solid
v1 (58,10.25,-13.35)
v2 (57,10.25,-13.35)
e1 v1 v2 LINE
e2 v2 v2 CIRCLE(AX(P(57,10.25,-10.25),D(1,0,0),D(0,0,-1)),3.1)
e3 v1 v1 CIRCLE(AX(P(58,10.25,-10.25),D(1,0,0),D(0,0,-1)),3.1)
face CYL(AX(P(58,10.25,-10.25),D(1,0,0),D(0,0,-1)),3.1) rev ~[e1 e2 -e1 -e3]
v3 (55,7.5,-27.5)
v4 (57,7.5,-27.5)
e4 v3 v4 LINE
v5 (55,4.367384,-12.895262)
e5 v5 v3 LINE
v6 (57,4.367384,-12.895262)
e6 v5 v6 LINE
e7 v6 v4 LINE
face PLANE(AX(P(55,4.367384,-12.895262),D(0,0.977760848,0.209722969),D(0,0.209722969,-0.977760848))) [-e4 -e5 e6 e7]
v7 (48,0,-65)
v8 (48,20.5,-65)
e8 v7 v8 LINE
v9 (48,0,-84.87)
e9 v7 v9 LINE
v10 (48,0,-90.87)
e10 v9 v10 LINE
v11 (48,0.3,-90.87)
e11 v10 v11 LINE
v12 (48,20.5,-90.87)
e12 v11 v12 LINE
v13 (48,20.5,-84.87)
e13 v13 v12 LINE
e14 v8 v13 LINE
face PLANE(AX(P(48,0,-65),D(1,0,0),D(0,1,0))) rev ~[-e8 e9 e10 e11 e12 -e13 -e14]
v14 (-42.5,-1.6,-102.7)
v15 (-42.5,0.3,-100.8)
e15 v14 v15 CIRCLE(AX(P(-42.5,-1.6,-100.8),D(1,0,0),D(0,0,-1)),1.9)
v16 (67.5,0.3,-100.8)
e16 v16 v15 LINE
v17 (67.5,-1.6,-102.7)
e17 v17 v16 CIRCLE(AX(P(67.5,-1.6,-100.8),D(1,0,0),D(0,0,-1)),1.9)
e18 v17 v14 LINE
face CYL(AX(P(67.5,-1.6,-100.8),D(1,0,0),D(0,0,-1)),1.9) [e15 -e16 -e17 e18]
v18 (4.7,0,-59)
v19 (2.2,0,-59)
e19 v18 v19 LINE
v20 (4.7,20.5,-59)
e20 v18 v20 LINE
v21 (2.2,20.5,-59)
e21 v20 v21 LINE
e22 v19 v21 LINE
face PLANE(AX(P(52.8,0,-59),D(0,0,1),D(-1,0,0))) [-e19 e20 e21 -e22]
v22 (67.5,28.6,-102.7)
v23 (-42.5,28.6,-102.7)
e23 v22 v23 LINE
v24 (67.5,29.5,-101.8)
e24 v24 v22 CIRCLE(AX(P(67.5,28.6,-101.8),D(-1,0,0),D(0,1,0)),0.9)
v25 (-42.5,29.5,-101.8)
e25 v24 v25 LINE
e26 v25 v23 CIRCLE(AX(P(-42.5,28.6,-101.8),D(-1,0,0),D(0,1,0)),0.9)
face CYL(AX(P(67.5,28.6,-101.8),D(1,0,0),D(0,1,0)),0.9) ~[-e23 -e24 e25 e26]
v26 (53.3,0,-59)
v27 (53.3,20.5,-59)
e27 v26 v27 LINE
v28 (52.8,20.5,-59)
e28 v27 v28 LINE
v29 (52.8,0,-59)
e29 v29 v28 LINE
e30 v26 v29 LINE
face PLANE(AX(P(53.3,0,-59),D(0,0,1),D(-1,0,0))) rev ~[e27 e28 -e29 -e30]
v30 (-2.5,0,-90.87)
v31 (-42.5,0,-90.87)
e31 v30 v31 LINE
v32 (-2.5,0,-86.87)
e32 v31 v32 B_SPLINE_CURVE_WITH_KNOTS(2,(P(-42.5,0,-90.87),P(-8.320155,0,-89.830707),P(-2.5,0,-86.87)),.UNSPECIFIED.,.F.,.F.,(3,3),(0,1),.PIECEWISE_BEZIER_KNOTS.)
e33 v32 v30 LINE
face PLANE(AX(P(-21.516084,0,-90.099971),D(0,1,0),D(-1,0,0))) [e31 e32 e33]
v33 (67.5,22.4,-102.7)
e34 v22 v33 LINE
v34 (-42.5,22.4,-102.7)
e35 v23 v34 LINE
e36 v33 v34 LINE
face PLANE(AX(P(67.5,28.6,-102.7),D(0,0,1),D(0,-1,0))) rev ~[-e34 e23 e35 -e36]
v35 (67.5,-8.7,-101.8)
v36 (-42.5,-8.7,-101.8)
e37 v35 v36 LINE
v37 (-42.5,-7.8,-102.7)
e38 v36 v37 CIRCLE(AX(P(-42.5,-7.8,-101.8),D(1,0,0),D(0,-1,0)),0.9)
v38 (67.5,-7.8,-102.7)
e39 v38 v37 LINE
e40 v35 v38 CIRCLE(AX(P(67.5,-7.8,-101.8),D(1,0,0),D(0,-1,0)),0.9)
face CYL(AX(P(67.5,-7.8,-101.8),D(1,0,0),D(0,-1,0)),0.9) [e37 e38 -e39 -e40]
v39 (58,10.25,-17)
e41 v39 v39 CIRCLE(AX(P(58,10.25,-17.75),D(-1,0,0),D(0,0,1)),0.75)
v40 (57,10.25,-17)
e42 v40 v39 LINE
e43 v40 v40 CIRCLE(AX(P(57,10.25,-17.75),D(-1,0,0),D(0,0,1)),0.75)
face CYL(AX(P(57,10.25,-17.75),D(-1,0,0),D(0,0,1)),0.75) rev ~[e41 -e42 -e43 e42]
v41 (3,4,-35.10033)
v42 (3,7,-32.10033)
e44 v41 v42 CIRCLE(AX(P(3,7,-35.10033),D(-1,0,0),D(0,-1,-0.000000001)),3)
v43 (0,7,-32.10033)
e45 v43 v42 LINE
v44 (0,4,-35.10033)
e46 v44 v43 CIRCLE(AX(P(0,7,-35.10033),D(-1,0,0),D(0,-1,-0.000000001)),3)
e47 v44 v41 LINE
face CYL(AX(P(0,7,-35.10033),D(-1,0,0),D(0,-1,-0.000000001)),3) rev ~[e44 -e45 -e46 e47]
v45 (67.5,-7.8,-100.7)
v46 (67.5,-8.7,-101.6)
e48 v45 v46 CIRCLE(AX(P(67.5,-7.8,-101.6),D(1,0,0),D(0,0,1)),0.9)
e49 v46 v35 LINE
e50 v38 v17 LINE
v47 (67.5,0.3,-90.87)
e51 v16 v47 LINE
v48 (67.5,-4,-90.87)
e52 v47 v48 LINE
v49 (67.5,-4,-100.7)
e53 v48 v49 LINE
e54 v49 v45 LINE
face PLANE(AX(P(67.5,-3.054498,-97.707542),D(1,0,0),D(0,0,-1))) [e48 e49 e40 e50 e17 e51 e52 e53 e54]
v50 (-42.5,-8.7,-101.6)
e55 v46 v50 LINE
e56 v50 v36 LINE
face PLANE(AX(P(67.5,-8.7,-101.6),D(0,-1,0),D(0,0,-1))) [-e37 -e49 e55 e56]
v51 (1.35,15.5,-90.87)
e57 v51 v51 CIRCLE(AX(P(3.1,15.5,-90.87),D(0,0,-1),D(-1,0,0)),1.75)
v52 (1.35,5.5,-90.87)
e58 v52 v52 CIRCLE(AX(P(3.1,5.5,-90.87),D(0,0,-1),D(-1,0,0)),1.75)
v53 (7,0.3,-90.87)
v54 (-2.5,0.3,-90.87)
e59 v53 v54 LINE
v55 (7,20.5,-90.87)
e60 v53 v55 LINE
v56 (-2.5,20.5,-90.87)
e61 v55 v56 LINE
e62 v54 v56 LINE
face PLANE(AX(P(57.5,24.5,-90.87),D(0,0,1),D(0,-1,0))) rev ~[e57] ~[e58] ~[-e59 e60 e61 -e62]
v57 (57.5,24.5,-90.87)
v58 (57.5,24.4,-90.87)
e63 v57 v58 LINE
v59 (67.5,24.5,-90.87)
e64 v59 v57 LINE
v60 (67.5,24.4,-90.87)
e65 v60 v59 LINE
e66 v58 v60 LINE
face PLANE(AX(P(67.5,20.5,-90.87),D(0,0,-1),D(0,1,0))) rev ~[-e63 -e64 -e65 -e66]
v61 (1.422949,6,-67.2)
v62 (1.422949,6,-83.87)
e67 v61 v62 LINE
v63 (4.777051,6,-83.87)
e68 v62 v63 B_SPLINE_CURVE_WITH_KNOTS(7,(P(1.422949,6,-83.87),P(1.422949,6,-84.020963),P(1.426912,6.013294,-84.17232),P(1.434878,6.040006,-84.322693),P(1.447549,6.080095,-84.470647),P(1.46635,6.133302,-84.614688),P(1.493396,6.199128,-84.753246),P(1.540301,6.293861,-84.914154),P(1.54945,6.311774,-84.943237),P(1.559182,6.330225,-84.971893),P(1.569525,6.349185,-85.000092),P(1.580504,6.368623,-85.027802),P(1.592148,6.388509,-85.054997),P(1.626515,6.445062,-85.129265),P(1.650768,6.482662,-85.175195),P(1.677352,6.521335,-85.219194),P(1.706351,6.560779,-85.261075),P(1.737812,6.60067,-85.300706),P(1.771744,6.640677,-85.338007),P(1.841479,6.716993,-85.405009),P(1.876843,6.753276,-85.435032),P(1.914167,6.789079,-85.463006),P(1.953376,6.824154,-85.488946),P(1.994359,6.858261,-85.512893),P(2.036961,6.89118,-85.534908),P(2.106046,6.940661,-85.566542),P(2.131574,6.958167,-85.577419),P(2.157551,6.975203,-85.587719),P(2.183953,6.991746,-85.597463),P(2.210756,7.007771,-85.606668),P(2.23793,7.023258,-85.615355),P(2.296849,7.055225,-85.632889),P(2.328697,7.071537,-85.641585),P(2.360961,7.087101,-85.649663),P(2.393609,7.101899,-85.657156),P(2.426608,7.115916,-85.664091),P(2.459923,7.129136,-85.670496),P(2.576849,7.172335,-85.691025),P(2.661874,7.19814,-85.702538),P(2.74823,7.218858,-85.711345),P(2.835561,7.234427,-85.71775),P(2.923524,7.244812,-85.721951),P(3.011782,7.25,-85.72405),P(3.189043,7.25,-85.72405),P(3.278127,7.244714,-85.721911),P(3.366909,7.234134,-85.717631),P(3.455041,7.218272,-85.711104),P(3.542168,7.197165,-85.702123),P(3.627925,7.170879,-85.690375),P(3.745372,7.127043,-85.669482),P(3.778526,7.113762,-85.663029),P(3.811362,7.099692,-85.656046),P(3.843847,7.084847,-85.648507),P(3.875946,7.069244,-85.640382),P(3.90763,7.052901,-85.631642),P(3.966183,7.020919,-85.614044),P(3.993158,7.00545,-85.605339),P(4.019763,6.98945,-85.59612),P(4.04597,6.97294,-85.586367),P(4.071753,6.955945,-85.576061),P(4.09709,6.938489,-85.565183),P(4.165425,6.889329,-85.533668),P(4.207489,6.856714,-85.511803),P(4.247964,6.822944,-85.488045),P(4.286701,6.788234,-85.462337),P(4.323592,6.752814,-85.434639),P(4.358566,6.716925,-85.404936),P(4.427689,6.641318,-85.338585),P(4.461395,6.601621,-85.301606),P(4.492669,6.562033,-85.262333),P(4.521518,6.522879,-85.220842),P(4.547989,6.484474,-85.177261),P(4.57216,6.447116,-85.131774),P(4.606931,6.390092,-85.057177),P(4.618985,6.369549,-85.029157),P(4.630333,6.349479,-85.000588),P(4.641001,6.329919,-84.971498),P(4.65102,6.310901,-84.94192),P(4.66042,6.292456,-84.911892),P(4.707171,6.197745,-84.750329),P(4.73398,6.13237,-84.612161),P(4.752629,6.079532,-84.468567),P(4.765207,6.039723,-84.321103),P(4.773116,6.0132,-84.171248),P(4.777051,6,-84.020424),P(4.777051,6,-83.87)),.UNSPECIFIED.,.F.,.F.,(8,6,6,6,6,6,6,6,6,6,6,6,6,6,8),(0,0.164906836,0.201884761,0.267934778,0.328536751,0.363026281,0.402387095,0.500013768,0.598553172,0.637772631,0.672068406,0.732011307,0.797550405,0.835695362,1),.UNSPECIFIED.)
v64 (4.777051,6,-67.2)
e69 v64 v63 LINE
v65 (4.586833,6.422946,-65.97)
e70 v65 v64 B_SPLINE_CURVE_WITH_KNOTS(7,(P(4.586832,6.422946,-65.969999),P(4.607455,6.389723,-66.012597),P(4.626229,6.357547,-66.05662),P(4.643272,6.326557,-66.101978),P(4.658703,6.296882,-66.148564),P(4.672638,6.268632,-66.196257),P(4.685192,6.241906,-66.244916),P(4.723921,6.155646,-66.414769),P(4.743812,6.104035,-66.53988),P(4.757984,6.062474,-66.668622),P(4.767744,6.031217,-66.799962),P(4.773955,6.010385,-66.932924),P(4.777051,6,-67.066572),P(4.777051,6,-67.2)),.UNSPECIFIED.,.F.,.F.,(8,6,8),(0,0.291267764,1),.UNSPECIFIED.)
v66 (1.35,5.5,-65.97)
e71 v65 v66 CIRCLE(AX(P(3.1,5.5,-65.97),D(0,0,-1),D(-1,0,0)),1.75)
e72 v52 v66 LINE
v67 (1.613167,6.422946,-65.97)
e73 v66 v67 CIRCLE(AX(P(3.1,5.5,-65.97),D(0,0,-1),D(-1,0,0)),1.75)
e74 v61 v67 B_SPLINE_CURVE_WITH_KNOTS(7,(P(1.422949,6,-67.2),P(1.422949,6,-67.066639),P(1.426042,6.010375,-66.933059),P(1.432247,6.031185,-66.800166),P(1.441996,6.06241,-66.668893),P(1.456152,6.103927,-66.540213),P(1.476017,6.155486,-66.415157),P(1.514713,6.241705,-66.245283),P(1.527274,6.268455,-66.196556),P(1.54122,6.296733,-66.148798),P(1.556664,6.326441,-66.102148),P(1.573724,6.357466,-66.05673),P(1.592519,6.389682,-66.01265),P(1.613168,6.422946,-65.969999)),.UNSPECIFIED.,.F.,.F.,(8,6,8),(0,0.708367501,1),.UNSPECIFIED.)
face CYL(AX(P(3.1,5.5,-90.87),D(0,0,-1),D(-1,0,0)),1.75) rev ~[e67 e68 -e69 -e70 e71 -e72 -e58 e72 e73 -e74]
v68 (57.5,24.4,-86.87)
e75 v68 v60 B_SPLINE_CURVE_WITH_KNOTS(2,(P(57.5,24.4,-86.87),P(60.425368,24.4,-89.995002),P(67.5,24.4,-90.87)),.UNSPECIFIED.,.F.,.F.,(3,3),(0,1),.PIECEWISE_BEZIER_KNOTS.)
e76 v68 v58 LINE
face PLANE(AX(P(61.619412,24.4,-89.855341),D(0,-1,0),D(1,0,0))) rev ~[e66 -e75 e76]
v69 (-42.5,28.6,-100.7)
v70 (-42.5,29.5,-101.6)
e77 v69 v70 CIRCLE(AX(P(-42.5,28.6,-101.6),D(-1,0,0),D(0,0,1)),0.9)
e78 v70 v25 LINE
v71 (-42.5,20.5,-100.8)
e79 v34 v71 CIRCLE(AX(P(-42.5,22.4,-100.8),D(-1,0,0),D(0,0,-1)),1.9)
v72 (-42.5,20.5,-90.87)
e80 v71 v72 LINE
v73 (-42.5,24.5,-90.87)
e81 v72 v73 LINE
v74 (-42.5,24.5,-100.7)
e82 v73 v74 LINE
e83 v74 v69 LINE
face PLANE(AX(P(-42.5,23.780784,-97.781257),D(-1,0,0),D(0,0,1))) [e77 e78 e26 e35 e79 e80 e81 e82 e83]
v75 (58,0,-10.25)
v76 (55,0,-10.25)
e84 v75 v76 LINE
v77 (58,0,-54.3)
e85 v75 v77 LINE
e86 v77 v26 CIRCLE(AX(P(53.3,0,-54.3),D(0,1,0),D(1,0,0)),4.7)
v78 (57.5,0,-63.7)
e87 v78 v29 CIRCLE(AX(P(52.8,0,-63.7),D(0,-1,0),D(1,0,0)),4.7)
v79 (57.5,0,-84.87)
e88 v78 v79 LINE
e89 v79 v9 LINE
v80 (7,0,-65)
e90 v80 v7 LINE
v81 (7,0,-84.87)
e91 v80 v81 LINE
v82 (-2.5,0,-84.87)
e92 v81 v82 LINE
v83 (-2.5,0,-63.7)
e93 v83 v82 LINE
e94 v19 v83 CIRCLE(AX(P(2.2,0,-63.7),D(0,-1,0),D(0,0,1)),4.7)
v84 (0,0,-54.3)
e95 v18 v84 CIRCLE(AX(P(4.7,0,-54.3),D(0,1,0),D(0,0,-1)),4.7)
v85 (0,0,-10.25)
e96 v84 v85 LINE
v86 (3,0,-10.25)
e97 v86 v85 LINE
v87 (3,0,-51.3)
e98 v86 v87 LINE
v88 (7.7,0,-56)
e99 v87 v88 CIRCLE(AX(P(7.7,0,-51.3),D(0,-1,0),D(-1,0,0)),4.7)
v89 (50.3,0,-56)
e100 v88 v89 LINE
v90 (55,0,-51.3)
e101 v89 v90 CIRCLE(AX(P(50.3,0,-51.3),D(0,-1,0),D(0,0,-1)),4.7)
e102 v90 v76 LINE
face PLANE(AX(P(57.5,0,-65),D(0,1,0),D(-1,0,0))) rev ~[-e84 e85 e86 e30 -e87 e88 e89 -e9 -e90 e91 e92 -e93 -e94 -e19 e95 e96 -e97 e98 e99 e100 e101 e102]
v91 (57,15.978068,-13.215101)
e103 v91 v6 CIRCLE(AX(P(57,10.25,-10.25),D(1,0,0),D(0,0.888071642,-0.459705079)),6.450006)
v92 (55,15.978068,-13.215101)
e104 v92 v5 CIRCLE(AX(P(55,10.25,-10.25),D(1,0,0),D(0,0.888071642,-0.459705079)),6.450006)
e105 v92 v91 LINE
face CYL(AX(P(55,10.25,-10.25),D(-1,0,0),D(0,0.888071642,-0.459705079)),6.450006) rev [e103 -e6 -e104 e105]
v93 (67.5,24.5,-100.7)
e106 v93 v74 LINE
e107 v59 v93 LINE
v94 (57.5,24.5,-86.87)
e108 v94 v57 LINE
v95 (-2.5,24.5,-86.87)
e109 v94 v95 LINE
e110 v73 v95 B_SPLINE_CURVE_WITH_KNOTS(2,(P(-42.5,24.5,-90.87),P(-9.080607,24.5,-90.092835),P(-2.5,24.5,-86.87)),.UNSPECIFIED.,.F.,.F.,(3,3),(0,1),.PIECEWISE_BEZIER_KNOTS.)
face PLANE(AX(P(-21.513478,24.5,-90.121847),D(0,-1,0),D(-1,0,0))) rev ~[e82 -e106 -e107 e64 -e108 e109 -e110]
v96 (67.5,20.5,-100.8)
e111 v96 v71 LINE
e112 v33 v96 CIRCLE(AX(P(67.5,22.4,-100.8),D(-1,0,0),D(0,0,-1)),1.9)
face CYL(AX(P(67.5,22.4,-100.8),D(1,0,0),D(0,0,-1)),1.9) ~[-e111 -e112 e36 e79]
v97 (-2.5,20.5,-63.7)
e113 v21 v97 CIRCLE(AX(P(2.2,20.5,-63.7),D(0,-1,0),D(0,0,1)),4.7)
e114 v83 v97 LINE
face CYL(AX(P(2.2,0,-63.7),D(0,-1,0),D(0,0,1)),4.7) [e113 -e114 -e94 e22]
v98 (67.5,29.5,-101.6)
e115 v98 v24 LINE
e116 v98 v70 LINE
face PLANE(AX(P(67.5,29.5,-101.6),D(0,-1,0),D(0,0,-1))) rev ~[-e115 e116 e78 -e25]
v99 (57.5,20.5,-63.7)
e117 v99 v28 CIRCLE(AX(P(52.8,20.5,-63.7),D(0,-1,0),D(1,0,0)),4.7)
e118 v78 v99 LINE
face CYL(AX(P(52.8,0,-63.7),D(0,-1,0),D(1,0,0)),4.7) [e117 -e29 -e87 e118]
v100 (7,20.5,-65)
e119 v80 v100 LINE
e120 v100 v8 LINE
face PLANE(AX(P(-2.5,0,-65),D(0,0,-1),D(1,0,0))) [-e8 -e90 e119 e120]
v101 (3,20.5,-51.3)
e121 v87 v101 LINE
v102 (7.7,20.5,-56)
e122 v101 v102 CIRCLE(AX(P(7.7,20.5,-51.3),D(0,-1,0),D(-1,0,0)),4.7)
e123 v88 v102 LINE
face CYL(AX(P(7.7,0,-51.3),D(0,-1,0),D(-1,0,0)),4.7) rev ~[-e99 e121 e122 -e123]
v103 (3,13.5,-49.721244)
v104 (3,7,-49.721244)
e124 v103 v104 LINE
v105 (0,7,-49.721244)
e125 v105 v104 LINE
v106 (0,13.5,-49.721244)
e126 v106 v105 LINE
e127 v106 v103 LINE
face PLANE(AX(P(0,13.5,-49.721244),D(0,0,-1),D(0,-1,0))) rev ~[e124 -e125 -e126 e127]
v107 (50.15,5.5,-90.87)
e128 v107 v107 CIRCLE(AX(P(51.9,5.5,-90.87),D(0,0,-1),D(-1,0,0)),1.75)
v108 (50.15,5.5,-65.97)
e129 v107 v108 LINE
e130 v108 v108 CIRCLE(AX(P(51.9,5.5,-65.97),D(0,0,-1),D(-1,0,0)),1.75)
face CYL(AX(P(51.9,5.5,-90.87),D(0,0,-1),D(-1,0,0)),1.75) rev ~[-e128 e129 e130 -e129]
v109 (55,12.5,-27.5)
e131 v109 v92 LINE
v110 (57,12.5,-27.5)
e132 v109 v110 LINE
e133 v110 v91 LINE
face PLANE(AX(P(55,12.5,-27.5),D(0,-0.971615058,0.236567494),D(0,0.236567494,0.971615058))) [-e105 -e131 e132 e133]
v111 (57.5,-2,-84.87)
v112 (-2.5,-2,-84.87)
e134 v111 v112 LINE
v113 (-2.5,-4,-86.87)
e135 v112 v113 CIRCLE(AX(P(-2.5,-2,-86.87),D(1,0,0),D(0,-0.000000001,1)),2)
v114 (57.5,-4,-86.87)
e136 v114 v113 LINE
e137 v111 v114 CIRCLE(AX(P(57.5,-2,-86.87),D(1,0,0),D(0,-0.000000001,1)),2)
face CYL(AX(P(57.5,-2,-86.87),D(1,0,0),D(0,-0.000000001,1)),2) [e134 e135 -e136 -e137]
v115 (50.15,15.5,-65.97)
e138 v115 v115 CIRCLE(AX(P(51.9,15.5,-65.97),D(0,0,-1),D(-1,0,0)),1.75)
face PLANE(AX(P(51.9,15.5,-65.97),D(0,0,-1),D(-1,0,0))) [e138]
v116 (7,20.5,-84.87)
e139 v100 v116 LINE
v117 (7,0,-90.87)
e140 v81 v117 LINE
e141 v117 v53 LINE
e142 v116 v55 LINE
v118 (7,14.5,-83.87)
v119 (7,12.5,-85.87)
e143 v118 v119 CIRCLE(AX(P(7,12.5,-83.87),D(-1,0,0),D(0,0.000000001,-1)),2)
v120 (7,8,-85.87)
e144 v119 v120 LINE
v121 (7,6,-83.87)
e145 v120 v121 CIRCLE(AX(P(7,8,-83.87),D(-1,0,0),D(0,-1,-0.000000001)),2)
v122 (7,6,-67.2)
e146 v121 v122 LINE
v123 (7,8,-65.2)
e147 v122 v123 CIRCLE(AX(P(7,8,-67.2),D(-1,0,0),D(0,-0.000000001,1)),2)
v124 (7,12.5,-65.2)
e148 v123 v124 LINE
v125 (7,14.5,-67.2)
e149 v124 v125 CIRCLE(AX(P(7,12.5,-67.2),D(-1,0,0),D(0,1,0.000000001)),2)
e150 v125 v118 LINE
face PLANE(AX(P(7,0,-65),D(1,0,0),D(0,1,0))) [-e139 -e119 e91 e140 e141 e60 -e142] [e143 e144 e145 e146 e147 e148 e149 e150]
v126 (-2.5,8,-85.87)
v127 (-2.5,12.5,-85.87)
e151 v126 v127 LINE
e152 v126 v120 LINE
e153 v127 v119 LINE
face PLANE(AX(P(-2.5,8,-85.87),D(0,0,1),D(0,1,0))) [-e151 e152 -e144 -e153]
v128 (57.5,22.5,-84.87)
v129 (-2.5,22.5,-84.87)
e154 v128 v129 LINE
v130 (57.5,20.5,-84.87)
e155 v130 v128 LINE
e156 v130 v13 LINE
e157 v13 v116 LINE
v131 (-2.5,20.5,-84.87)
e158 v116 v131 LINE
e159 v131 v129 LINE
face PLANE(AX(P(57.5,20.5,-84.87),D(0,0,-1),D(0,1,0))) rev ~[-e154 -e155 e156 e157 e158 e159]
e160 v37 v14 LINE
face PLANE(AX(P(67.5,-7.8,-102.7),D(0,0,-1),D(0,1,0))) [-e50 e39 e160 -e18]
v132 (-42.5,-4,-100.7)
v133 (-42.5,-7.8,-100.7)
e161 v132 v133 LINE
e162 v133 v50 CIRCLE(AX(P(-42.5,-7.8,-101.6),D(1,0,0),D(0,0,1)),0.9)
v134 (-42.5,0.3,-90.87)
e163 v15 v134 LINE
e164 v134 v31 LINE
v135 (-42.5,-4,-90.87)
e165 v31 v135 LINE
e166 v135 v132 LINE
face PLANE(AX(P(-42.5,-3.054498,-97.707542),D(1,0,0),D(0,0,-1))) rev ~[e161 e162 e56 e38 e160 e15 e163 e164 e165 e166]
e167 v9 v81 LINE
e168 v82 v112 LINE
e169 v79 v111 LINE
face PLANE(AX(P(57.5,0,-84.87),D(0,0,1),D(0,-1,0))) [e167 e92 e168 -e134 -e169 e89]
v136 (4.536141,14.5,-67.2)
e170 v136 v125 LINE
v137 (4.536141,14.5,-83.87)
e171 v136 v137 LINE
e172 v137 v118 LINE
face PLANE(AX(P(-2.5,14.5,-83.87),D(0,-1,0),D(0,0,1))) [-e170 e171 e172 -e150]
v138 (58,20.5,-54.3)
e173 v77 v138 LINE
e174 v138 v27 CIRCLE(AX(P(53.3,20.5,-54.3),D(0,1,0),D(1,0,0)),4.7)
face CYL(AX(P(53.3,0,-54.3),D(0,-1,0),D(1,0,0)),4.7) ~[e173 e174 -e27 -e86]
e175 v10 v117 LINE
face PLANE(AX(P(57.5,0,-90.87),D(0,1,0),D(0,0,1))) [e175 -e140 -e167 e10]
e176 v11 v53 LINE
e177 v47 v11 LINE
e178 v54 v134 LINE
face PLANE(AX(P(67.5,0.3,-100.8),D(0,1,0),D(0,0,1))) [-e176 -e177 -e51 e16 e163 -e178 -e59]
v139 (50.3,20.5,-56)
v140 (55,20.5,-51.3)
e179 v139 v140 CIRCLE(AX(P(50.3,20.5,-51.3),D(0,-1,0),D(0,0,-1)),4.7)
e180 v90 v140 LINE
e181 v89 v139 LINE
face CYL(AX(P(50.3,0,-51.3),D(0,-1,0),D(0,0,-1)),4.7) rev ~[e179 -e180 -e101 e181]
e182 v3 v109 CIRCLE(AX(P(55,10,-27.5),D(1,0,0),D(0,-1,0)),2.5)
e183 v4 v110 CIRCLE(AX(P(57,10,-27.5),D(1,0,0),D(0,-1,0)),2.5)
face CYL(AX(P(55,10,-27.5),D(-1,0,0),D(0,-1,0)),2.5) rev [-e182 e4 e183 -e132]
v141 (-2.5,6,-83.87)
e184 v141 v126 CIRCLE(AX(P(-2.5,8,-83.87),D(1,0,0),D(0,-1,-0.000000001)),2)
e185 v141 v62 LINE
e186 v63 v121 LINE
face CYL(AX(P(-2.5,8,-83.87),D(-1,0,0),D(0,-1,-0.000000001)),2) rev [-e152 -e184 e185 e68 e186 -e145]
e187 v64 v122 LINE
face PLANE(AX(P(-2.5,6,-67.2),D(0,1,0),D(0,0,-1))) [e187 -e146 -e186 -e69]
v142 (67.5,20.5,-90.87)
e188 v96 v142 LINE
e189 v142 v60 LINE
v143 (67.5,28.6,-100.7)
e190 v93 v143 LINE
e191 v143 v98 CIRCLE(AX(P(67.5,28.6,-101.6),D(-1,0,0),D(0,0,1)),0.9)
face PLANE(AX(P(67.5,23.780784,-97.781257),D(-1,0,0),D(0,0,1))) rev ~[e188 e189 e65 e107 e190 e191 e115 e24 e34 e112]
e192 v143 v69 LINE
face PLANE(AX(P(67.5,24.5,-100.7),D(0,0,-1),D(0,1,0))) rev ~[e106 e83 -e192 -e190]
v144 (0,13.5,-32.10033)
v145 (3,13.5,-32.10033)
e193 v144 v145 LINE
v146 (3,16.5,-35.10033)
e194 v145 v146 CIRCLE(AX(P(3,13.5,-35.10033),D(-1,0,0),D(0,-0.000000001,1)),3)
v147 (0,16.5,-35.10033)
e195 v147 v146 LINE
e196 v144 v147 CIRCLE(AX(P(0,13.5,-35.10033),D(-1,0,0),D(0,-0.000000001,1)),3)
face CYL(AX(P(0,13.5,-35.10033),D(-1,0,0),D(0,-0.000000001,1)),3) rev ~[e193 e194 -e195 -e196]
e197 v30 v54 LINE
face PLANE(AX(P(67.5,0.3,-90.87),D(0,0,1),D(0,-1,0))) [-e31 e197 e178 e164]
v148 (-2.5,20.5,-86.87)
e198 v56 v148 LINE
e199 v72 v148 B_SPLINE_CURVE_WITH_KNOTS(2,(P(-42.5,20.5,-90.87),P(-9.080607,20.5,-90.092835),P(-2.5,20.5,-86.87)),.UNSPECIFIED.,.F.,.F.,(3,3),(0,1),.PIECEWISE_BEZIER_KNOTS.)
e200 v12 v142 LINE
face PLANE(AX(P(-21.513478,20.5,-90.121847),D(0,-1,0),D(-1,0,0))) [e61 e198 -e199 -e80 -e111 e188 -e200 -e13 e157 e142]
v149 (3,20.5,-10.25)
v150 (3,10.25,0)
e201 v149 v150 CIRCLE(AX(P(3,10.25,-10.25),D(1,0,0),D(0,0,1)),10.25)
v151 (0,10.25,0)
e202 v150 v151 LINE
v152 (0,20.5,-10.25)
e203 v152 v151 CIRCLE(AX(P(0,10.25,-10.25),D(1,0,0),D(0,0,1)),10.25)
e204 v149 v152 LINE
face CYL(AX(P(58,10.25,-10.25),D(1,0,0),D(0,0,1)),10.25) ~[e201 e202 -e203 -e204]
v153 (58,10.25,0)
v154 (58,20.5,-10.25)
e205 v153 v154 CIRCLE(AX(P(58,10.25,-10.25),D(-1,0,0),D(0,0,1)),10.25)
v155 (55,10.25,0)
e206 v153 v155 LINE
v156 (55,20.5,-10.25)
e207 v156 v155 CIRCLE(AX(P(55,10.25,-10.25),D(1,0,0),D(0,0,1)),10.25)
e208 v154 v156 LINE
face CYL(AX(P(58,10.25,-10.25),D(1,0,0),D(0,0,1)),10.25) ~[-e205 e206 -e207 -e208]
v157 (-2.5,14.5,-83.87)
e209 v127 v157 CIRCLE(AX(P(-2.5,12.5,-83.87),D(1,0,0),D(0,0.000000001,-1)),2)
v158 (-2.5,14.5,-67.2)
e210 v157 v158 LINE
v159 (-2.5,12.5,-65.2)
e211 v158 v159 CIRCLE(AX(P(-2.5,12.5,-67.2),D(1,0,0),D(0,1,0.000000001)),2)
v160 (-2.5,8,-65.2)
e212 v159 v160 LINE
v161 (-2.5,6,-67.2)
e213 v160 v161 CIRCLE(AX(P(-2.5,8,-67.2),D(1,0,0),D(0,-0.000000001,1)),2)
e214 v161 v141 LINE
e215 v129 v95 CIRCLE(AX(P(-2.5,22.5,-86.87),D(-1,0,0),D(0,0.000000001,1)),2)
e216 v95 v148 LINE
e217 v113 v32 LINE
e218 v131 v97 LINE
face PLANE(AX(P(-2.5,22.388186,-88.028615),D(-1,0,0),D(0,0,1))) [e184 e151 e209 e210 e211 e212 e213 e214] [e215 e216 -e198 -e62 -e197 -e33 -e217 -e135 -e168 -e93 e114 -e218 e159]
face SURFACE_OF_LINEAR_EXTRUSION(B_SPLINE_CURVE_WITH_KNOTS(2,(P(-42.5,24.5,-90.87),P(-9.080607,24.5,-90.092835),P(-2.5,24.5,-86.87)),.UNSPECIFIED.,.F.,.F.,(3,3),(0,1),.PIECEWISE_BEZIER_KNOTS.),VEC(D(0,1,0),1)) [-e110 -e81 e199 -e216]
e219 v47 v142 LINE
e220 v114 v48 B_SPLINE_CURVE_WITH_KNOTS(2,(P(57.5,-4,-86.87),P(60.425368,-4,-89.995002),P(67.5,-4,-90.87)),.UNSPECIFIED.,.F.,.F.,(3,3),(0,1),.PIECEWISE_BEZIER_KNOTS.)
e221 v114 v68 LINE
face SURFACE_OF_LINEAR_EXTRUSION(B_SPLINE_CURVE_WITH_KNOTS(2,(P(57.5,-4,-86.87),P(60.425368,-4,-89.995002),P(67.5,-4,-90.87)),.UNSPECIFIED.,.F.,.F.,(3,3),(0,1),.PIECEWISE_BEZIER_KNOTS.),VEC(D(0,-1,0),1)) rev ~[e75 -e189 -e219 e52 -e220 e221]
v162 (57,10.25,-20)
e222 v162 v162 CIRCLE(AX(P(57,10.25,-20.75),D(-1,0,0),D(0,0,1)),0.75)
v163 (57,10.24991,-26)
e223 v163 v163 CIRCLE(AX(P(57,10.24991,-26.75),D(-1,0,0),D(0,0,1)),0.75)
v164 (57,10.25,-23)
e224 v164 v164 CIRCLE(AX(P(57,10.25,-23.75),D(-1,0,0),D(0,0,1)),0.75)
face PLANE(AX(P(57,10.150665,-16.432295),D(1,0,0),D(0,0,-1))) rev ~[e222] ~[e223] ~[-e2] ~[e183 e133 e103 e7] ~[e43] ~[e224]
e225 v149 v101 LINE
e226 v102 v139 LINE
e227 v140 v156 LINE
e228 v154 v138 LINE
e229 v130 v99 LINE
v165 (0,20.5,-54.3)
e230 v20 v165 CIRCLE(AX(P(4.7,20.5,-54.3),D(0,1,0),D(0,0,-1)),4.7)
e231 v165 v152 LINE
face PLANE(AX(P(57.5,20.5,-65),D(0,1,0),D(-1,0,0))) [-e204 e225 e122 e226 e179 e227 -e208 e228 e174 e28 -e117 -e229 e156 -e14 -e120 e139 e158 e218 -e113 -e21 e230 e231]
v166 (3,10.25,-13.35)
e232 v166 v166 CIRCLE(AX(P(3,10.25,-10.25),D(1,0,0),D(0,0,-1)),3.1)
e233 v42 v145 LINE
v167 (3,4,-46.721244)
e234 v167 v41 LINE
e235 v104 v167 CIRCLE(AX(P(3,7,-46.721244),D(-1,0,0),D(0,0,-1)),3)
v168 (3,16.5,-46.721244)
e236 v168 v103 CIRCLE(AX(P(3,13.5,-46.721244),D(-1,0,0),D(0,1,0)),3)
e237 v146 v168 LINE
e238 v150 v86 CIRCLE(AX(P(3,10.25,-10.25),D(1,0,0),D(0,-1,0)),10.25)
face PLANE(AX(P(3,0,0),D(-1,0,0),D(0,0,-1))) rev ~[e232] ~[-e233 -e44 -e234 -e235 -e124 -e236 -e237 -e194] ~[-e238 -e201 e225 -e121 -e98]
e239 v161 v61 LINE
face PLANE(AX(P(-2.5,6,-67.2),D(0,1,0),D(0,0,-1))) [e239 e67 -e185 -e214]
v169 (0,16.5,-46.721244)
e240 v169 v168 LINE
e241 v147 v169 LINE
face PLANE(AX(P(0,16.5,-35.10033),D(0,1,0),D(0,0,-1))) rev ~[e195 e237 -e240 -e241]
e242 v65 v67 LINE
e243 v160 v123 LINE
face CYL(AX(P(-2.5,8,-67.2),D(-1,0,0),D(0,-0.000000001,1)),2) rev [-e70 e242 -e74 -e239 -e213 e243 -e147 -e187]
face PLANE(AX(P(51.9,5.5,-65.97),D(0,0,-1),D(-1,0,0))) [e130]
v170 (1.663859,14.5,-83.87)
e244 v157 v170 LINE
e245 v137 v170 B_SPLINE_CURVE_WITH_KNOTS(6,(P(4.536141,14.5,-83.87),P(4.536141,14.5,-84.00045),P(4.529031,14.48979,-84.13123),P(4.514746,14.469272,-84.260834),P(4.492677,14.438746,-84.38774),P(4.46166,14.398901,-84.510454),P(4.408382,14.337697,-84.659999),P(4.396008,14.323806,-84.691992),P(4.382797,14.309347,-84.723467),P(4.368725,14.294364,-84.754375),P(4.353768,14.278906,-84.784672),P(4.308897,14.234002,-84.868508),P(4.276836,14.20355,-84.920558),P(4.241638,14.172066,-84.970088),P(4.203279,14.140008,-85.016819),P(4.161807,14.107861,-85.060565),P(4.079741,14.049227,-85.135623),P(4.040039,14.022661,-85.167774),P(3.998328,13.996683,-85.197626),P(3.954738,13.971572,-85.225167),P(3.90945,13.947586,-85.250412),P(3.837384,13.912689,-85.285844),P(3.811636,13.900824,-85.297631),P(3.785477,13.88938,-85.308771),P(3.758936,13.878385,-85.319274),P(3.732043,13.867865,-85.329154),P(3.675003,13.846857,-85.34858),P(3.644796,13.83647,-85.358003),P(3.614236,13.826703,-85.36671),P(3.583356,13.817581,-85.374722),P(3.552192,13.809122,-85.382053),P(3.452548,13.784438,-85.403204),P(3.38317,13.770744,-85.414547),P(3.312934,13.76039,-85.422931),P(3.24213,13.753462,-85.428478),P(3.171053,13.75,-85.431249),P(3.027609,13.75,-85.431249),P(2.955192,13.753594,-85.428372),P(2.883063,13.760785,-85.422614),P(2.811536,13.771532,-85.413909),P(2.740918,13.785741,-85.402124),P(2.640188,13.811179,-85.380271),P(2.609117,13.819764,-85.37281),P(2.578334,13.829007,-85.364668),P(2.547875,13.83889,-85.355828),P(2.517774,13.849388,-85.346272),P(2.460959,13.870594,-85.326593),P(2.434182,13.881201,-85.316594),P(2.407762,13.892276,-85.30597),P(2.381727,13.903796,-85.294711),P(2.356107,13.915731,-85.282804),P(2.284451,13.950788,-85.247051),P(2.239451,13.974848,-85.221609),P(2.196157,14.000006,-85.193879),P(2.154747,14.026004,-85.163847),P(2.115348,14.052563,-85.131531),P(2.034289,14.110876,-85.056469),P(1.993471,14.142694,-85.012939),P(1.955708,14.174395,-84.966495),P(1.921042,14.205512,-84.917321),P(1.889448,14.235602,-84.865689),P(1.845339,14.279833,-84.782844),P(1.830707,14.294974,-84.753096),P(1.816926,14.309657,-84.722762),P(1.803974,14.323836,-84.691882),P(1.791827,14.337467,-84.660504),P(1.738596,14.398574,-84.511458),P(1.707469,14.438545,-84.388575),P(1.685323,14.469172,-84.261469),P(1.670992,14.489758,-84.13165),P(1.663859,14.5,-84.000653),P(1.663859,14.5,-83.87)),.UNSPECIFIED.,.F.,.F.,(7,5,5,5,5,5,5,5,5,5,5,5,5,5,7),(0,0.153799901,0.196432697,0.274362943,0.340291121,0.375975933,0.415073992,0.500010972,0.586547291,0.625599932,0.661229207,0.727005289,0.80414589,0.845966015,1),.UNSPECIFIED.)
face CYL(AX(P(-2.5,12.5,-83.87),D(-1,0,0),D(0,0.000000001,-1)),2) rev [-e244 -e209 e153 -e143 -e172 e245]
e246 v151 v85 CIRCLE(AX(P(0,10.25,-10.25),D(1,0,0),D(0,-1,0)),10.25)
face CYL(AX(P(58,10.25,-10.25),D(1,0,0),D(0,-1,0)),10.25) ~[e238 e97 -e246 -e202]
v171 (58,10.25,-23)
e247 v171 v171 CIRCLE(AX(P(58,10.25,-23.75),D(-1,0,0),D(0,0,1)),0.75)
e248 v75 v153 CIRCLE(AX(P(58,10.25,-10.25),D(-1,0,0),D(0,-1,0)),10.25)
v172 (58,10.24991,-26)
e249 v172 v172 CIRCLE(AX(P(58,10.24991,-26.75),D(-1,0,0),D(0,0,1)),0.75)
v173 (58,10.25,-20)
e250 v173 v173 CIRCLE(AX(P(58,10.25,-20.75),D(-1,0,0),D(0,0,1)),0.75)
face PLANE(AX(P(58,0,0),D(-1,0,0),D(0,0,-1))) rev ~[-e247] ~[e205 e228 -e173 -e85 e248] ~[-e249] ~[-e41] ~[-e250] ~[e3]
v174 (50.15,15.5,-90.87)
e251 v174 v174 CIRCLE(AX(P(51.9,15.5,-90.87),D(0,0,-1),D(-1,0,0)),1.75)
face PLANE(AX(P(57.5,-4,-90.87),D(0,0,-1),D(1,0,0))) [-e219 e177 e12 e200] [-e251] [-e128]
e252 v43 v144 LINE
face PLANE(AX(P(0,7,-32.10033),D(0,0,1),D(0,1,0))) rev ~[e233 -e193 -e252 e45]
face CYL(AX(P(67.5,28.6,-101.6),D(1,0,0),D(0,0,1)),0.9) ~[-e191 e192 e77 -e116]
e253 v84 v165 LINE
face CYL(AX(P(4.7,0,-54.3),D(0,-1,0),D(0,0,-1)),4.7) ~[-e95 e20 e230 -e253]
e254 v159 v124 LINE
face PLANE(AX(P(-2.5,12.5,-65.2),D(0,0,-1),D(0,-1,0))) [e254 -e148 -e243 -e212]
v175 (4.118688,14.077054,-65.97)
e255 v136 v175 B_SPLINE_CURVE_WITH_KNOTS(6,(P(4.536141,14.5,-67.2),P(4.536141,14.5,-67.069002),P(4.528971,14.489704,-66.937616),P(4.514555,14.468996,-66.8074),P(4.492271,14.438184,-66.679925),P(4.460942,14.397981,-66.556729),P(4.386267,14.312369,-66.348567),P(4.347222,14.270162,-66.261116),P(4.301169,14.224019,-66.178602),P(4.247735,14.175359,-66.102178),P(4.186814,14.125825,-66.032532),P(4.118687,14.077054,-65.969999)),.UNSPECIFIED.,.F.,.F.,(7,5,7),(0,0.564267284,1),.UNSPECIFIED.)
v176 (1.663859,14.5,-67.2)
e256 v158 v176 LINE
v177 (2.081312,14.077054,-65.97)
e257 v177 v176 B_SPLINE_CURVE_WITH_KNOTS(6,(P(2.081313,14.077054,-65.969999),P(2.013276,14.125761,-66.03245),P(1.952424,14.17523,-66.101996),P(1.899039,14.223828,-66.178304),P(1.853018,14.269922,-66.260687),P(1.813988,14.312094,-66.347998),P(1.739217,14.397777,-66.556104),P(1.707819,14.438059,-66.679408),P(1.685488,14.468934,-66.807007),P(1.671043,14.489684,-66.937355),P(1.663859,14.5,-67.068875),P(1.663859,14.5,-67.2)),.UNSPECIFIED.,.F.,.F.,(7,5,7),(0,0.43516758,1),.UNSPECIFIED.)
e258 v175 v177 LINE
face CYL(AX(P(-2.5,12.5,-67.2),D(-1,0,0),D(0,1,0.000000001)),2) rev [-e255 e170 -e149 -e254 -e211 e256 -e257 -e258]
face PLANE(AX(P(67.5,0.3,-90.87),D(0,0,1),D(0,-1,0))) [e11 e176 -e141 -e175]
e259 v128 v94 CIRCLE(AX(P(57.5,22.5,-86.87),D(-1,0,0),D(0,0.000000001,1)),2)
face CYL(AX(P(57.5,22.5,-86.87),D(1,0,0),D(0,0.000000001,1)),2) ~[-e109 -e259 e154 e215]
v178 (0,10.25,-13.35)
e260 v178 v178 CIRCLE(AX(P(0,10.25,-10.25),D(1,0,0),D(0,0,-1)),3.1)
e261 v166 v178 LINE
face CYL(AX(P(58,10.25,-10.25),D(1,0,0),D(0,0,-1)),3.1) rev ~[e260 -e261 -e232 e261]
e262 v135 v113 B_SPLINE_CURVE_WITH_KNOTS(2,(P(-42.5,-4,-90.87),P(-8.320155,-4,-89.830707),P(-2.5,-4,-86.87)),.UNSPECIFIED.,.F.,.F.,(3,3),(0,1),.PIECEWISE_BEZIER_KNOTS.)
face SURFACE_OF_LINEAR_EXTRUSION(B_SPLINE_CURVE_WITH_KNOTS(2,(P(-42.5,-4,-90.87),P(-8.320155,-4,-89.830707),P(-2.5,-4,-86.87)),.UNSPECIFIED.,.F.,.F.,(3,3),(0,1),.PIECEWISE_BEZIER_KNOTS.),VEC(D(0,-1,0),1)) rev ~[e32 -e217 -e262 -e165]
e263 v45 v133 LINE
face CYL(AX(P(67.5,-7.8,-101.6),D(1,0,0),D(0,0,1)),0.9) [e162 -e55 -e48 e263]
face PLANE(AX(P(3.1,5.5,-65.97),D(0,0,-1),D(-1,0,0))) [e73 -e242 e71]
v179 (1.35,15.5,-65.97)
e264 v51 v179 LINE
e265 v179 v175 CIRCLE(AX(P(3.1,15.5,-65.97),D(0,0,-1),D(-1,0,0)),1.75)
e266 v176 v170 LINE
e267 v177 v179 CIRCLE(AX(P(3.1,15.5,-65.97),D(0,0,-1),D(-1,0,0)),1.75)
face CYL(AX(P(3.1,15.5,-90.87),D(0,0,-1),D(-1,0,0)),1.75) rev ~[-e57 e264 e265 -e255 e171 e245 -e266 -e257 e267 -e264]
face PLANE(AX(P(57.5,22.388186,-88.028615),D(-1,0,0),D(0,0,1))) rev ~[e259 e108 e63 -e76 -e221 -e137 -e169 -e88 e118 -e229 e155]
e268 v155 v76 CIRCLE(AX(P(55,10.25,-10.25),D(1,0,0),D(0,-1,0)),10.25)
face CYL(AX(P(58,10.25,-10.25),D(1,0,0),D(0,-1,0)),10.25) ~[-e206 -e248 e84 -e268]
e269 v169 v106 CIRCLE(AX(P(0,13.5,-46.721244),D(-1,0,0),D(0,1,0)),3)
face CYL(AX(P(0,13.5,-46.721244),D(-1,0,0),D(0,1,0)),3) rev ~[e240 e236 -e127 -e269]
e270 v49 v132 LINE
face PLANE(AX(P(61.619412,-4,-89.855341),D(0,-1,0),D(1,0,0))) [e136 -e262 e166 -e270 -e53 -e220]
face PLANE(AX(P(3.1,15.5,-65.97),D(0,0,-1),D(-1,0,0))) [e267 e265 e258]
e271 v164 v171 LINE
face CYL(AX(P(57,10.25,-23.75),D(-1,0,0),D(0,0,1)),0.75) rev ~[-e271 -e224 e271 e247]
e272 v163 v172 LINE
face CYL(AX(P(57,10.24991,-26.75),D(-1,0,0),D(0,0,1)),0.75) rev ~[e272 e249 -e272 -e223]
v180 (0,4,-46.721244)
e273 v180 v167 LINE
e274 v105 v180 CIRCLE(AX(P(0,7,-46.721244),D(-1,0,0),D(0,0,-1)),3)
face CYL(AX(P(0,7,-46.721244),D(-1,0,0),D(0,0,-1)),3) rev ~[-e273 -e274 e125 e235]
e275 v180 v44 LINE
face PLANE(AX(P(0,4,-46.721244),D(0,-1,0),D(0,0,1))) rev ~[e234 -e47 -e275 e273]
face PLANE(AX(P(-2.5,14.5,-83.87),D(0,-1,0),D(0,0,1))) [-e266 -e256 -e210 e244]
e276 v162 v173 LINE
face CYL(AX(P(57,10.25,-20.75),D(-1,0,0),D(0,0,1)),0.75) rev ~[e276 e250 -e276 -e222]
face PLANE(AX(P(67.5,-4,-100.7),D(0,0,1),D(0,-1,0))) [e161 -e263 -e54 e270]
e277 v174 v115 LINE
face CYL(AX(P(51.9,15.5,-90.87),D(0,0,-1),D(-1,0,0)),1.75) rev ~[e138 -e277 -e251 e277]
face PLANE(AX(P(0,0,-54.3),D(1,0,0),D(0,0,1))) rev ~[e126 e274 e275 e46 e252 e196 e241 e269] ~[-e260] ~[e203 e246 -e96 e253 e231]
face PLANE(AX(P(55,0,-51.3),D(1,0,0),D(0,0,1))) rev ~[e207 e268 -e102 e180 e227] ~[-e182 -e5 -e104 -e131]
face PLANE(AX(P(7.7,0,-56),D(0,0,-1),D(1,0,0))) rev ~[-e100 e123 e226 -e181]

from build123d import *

# Parameters (mm, degrees)
AUFSATZ_LINEAR_AUSTRAGEN1_DEPTH      = 20.5
SCHNITT_LINEAR_AUSTRAGEN1_DEPTH      = 85.1
SKIZZE3_R                            = 3.1
SCHNITT_LINEAR_AUSTRAGEN2_DEPTH      = 87.42
SCHNITT_LINEAR_AUSTRAGEN3_DEPTH      = 2
SKIZZE5_R                            = 0.75
SCHNITT_LINEAR_AUSTRAGEN4_DEPTH      = 2
AUFSATZ_LINEAR_AUSTRAGEN2_DEPTH      = 20.5
SKIZZE7_W                            = 9.5
SKIZZE7_H                            = 20.5
AUFSATZ_LINEAR_AUSTRAGEN3_DEPTH      = 25.87
SCHNITT_LINEAR_AUSTRAGEN5_DEPTH      = 18.09
SKIZZE9_R                            = 1.75
SCHNITT_LINEAR_AUSTRAGEN6_DEPTH      = 24.9
AUFSATZ_LINEAR_AUSTRAGEN4_DEPTH      = 60
AUFSATZ_LINEAR_AUSTRAGEN5_DEPTH      = 40
AUFSATZ_LINEAR_AUSTRAGEN5_DEPTH_BACK = 70
AUFSATZ_LINEAR_AUSTRAGEN6_DEPTH      = 4
AUFSATZ_LINEAR_AUSTRAGEN7_DEPTH      = 4
AUFSATZ_LINEAR_AUSTRAGEN8_DEPTH      = 28.4
SCHNITT_LINEAR_AUSTRAGEN7_DEPTH      = 3


with BuildPart() as part:
    # Skizze1 → Aufsatz-Linear austragen1 (new body)
    with BuildSketch(Plane(origin=(0, 0, 0), x_dir=(1, 0, 0), z_dir=(0, 1, 0))):
        with BuildLine():
            Line((0, 54.3), (0, 0))
            Line((0, 0), (3, 0))
            Line((3, 0), (3, 51.3))
            ThreePointArc((3, 51.3), (4.376598128, 54.623401872), (7.7, 56))
            Line((7.7, 56), (50.3, 56))
            ThreePointArc((50.3, 56), (53.623401872, 54.623401872), (55, 51.3))
            Line((55, 51.3), (55, 0))
            Line((55, 0), (58, 0))
            Line((58, 0), (58, 54.3))
            ThreePointArc((58, 54.3), (56.623401872, 57.623401872), (53.3, 59))
            Line((53.3, 59), (4.7, 59))
            ThreePointArc((4.7, 59), (1.376598128, 57.623401872), (0, 54.3))
        make_face()
    extrude(amount=AUFSATZ_LINEAR_AUSTRAGEN1_DEPTH)

    # Skizze2 → Schnitt-Linear austragen1 (cut)
    with BuildSketch(Plane(origin=(58, 0, 0), x_dir=(0, 0, -1), z_dir=(1, 0, 0))):
        with BuildLine():
            ThreePointArc((0, 10.25), (3.002155493, 17.497844507), (10.25, 20.5))
            Line((10.25, 20.5), (0, 20.5))
            Line((0, 20.5), (0, 10.25))
        make_face()
        with BuildLine():
            ThreePointArc((10.25, 0), (3.002155493, 3.002155493), (0, 10.25))
            Line((0, 10.25), (0, 0))
            Line((0, 0), (10.25, 0))
        make_face()
    extrude(amount=-SCHNITT_LINEAR_AUSTRAGEN1_DEPTH, mode=Mode.SUBTRACT)

    # Skizze3 → Schnitt-Linear austragen2 (cut)
    with BuildSketch(Plane(origin=(58, 0, 0), x_dir=(0, 0, -1), z_dir=(1, 0, 0))):
        with Locations((10.25, 10.25)):
            Circle(SKIZZE3_R)
    extrude(amount=-SCHNITT_LINEAR_AUSTRAGEN2_DEPTH, mode=Mode.SUBTRACT)

    # Skizze4 → Schnitt-Linear austragen3 (cut)
    with BuildSketch(Plane.ZY.offset(-55)):
        with BuildLine():
            Line((-12.895262454, 4.367384373), (-27.5, 7.5))
            ThreePointArc((-27.5, 7.5), (-30, 10), (-27.5, 12.5))
            Line((-27.5, 12.5), (-13.215100612, 15.978067599))
            ThreePointArc((-13.215100612, 15.978067599), (-3.802439634, 10.427610206), (-12.895262454, 4.367384373))
        make_face()
    extrude(amount=-SCHNITT_LINEAR_AUSTRAGEN3_DEPTH, mode=Mode.SUBTRACT)

    # Skizze5 → Schnitt-Linear austragen4 (cut)
    with BuildSketch(Plane.ZY.offset(-57)):
        with Locations((-26.749999999, 10.249909889)):
            Circle(SKIZZE5_R)
        with Locations((-23.75, 10.25)):
            Circle(SKIZZE5_R)
        with Locations((-20.75, 10.25)):
            Circle(SKIZZE5_R)
        with Locations((-17.75, 10.25)):
            Circle(SKIZZE5_R)
    extrude(amount=-SCHNITT_LINEAR_AUSTRAGEN4_DEPTH, mode=Mode.SUBTRACT)

    # Skizze6 → Aufsatz-Linear austragen2 (add, through all)
    with BuildSketch(Plane.XZ):
        with BuildLine():
            Line((29, -59), (2.2, -59))
            ThreePointArc((2.2, -59), (-1.123401872, -60.376598128), (-2.5, -63.7))
            Line((-2.5, -63.7), (-2.5, -65))
            Line((-2.5, -65), (27.5, -65))
            Line((27.5, -65), (57.5, -65))
            Line((57.5, -65), (57.5, -63.7))
            ThreePointArc((57.5, -63.7), (56.123401872, -60.376598128), (52.8, -59))
            Line((52.8, -59), (29, -59))
        make_face()
    extrude(amount=-AUFSATZ_LINEAR_AUSTRAGEN2_DEPTH)

    # Skizze7 → Aufsatz-Linear austragen3 (add)
    with BuildSketch(Plane(origin=(0, 0, -65), x_dir=(-1, 0, 0), z_dir=(0, 0, -1))):
        with Locations((-52.75, 10.25)):
            Rectangle(SKIZZE7_W, SKIZZE7_H)
        with Locations((-2.25, 10.25)):
            Rectangle(SKIZZE7_W, SKIZZE7_H)
    extrude(amount=AUFSATZ_LINEAR_AUSTRAGEN3_DEPTH)

    # Skizze8 → Schnitt-Linear austragen5 (cut)
    with BuildSketch(Plane.ZY.offset(2.5)):
        with BuildLine():
            Line((-83.87, 14.5), (-67.2, 14.5))
            ThreePointArc((-67.2, 14.5), (-65.785786438, 13.914213562), (-65.2, 12.5))
            Line((-65.2, 12.5), (-65.2, 8))
            ThreePointArc((-65.2, 8), (-65.785786438, 6.585786438), (-67.2, 6))
            Line((-67.2, 6), (-83.87, 6))
            ThreePointArc((-83.87, 6), (-85.284213562, 6.585786438), (-85.87, 8))
            Line((-85.87, 8), (-85.87, 12.5))
            ThreePointArc((-85.87, 12.5), (-85.284213562, 13.914213562), (-83.87, 14.5))
        make_face()
    extrude(amount=-SCHNITT_LINEAR_AUSTRAGEN5_DEPTH, mode=Mode.SUBTRACT)

    # Skizze9 → Schnitt-Linear austragen6 (cut)
    with BuildSketch(Plane(origin=(0, 0, -90.87), x_dir=(-1, 0, 0), z_dir=(0, 0, -1))):
        with Locations((-3.1, 5.5)):
            Circle(SKIZZE9_R)
        with Locations((-3.1, 15.5)):
            Circle(SKIZZE9_R)
        with Locations((-51.9, 5.5)):
            Circle(SKIZZE9_R)
        with Locations((-51.9, 15.5)):
            Circle(SKIZZE9_R)
    extrude(amount=-SCHNITT_LINEAR_AUSTRAGEN6_DEPTH, mode=Mode.SUBTRACT)

    # Skizze10 → Aufsatz-Linear austragen4 (add, through all)
    with BuildSketch(Plane(origin=(57.5, 0, 0), x_dir=(0, 0, -1), z_dir=(1, 0, 0))):
        with BuildLine():
            Line((90.87, 20.5), (84.87, 20.5))
            Line((84.87, 20.5), (84.87, 22.5))
            ThreePointArc((84.87, 22.5), (85.455786438, 23.914213562), (86.87, 24.5))
            Line((86.87, 24.5), (90.87, 24.5))
            Line((90.87, 24.5), (90.87, 20.5))
        make_face()
        with BuildLine():
            Line((90.87, 0), (84.87, 0))
            Line((84.87, 0), (84.87, -2))
            ThreePointArc((84.87, -2), (85.455786438, -3.414213562), (86.87, -4))
            Line((86.87, -4), (90.87, -4))
            Line((90.87, -4), (90.87, 0))
        make_face()
    extrude(amount=-AUFSATZ_LINEAR_AUSTRAGEN4_DEPTH)

    # Skizze11 → Aufsatz-Linear austragen5 (add, two sides: drawn at the far end of the back side and taken through both)
    with BuildSketch(Plane.ZY.offset(2.5).offset(-AUFSATZ_LINEAR_AUSTRAGEN5_DEPTH_BACK)):
        with BuildLine():
            Line((-90.87, 24.5), (-100.7, 24.5))
            Line((-100.7, 24.5), (-100.7, 28.6))
            ThreePointArc((-100.7, 28.6), (-100.963603897, 29.236396103), (-101.6, 29.5))
            Line((-101.6, 29.5), (-101.8, 29.5))
            ThreePointArc((-101.8, 29.5), (-102.436396103, 29.236396103), (-102.7, 28.6))
            Line((-102.7, 28.6), (-102.7, 22.4))
            ThreePointArc((-102.7, 22.4), (-102.143502884, 21.056497116), (-100.8, 20.5))
            Line((-100.8, 20.5), (-100.7, 20.5))
            Line((-100.7, 20.5), (-90.87, 20.5))
            Line((-90.87, 20.5), (-90.87, 24.5))
        make_face()
        with BuildLine():
            Line((-90.87, -4), (-100.7, -4))
            Line((-100.7, -4), (-100.7, -7.8))
            ThreePointArc((-100.7, -7.8), (-100.963603897, -8.436396103), (-101.6, -8.7))
            Line((-101.6, -8.7), (-101.8, -8.7))
            ThreePointArc((-101.8, -8.7), (-102.436396103, -8.436396103), (-102.7, -7.8))
            Line((-102.7, -7.8), (-102.7, -1.6))
            ThreePointArc((-102.7, -1.6), (-102.143502884, -0.256497116), (-100.8, 0.3))
            Line((-100.8, 0.3), (-100.7, 0.3))
            Line((-100.7, 0.3), (-90.87, 0.3))
            Line((-90.87, 0.3), (-90.87, -4))
        make_face()
    extrude(amount=AUFSATZ_LINEAR_AUSTRAGEN5_DEPTH + AUFSATZ_LINEAR_AUSTRAGEN5_DEPTH_BACK)

    # Skizze12 → Aufsatz-Linear austragen6 (add)
    with BuildSketch(Plane(origin=(0, 24.5, 0), x_dir=(1, 0, 0), z_dir=(0, 1, 0))):
        with BuildLine():
            Line((-42.5, 90.87), (-2.5, 90.87))
            Line((-2.5, 90.87), (-2.5, 86.87))
            add(Edge.make_bspline(
                [(-42.5, 90.87), (-9.080607123, 90.092835271), (-2.5, 86.87)],
                knots=[0, 0, 0, 1, 1, 1], degree=2))
        make_face()
    extrude(amount=-AUFSATZ_LINEAR_AUSTRAGEN6_DEPTH)

    # Skizze13 → Aufsatz-Linear austragen7 (add)
    with BuildSketch(Plane.XZ.offset(4)):
        with BuildLine():
            Line((-2.5, -86.87), (-2.5, -90.87))
            Line((-2.5, -90.87), (-42.5, -90.87))
            add(Edge.make_bspline(
                [(-42.5, -90.87), (-8.320155044, -89.830707386), (-2.5, -86.87)],
                knots=[0, 0, 0, 1, 1, 1], degree=2))
        make_face()
    extrude(amount=-AUFSATZ_LINEAR_AUSTRAGEN7_DEPTH)

    # Skizze14 → Aufsatz-Linear austragen8 (add)
    with BuildSketch(Plane.XZ.offset(4)):
        with BuildLine():
            Line((57.5, -86.87), (57.5, -90.87))
            Line((57.5, -90.87), (67.5, -90.87))
            add(Edge.make_bspline(
                [(57.5, -86.87), (60.425368179, -89.995001665), (67.5, -90.87)],
                knots=[0, 0, 0, 1, 1, 1], degree=2))
        make_face()
    extrude(amount=-AUFSATZ_LINEAR_AUSTRAGEN8_DEPTH)

    # Skizze16 → Schnitt-Linear austragen7 (cut)
    with BuildSketch(Plane.ZY):
        with BuildLine():
            Line((-46.721244461, 4), (-35.100330168, 4))
            ThreePointArc((-35.100330168, 4), (-32.979009824, 4.878679656), (-32.100330168, 7))
            Line((-32.100330168, 7), (-32.100330168, 13.5))
            ThreePointArc((-32.100330168, 13.5), (-32.979009824, 15.621320344), (-35.100330168, 16.5))
            Line((-35.100330168, 16.5), (-46.721244461, 16.5))
            ThreePointArc((-46.721244461, 16.5), (-48.842564804, 15.621320344), (-49.721244461, 13.5))
            Line((-49.721244461, 13.5), (-49.721244461, 7))
            ThreePointArc((-49.721244461, 7), (-48.842564804, 4.878679656), (-46.721244461, 4))
        make_face()
    extrude(amount=-SCHNITT_LINEAR_AUSTRAGEN7_DEPTH, mode=Mode.SUBTRACT)


solid = part.part
